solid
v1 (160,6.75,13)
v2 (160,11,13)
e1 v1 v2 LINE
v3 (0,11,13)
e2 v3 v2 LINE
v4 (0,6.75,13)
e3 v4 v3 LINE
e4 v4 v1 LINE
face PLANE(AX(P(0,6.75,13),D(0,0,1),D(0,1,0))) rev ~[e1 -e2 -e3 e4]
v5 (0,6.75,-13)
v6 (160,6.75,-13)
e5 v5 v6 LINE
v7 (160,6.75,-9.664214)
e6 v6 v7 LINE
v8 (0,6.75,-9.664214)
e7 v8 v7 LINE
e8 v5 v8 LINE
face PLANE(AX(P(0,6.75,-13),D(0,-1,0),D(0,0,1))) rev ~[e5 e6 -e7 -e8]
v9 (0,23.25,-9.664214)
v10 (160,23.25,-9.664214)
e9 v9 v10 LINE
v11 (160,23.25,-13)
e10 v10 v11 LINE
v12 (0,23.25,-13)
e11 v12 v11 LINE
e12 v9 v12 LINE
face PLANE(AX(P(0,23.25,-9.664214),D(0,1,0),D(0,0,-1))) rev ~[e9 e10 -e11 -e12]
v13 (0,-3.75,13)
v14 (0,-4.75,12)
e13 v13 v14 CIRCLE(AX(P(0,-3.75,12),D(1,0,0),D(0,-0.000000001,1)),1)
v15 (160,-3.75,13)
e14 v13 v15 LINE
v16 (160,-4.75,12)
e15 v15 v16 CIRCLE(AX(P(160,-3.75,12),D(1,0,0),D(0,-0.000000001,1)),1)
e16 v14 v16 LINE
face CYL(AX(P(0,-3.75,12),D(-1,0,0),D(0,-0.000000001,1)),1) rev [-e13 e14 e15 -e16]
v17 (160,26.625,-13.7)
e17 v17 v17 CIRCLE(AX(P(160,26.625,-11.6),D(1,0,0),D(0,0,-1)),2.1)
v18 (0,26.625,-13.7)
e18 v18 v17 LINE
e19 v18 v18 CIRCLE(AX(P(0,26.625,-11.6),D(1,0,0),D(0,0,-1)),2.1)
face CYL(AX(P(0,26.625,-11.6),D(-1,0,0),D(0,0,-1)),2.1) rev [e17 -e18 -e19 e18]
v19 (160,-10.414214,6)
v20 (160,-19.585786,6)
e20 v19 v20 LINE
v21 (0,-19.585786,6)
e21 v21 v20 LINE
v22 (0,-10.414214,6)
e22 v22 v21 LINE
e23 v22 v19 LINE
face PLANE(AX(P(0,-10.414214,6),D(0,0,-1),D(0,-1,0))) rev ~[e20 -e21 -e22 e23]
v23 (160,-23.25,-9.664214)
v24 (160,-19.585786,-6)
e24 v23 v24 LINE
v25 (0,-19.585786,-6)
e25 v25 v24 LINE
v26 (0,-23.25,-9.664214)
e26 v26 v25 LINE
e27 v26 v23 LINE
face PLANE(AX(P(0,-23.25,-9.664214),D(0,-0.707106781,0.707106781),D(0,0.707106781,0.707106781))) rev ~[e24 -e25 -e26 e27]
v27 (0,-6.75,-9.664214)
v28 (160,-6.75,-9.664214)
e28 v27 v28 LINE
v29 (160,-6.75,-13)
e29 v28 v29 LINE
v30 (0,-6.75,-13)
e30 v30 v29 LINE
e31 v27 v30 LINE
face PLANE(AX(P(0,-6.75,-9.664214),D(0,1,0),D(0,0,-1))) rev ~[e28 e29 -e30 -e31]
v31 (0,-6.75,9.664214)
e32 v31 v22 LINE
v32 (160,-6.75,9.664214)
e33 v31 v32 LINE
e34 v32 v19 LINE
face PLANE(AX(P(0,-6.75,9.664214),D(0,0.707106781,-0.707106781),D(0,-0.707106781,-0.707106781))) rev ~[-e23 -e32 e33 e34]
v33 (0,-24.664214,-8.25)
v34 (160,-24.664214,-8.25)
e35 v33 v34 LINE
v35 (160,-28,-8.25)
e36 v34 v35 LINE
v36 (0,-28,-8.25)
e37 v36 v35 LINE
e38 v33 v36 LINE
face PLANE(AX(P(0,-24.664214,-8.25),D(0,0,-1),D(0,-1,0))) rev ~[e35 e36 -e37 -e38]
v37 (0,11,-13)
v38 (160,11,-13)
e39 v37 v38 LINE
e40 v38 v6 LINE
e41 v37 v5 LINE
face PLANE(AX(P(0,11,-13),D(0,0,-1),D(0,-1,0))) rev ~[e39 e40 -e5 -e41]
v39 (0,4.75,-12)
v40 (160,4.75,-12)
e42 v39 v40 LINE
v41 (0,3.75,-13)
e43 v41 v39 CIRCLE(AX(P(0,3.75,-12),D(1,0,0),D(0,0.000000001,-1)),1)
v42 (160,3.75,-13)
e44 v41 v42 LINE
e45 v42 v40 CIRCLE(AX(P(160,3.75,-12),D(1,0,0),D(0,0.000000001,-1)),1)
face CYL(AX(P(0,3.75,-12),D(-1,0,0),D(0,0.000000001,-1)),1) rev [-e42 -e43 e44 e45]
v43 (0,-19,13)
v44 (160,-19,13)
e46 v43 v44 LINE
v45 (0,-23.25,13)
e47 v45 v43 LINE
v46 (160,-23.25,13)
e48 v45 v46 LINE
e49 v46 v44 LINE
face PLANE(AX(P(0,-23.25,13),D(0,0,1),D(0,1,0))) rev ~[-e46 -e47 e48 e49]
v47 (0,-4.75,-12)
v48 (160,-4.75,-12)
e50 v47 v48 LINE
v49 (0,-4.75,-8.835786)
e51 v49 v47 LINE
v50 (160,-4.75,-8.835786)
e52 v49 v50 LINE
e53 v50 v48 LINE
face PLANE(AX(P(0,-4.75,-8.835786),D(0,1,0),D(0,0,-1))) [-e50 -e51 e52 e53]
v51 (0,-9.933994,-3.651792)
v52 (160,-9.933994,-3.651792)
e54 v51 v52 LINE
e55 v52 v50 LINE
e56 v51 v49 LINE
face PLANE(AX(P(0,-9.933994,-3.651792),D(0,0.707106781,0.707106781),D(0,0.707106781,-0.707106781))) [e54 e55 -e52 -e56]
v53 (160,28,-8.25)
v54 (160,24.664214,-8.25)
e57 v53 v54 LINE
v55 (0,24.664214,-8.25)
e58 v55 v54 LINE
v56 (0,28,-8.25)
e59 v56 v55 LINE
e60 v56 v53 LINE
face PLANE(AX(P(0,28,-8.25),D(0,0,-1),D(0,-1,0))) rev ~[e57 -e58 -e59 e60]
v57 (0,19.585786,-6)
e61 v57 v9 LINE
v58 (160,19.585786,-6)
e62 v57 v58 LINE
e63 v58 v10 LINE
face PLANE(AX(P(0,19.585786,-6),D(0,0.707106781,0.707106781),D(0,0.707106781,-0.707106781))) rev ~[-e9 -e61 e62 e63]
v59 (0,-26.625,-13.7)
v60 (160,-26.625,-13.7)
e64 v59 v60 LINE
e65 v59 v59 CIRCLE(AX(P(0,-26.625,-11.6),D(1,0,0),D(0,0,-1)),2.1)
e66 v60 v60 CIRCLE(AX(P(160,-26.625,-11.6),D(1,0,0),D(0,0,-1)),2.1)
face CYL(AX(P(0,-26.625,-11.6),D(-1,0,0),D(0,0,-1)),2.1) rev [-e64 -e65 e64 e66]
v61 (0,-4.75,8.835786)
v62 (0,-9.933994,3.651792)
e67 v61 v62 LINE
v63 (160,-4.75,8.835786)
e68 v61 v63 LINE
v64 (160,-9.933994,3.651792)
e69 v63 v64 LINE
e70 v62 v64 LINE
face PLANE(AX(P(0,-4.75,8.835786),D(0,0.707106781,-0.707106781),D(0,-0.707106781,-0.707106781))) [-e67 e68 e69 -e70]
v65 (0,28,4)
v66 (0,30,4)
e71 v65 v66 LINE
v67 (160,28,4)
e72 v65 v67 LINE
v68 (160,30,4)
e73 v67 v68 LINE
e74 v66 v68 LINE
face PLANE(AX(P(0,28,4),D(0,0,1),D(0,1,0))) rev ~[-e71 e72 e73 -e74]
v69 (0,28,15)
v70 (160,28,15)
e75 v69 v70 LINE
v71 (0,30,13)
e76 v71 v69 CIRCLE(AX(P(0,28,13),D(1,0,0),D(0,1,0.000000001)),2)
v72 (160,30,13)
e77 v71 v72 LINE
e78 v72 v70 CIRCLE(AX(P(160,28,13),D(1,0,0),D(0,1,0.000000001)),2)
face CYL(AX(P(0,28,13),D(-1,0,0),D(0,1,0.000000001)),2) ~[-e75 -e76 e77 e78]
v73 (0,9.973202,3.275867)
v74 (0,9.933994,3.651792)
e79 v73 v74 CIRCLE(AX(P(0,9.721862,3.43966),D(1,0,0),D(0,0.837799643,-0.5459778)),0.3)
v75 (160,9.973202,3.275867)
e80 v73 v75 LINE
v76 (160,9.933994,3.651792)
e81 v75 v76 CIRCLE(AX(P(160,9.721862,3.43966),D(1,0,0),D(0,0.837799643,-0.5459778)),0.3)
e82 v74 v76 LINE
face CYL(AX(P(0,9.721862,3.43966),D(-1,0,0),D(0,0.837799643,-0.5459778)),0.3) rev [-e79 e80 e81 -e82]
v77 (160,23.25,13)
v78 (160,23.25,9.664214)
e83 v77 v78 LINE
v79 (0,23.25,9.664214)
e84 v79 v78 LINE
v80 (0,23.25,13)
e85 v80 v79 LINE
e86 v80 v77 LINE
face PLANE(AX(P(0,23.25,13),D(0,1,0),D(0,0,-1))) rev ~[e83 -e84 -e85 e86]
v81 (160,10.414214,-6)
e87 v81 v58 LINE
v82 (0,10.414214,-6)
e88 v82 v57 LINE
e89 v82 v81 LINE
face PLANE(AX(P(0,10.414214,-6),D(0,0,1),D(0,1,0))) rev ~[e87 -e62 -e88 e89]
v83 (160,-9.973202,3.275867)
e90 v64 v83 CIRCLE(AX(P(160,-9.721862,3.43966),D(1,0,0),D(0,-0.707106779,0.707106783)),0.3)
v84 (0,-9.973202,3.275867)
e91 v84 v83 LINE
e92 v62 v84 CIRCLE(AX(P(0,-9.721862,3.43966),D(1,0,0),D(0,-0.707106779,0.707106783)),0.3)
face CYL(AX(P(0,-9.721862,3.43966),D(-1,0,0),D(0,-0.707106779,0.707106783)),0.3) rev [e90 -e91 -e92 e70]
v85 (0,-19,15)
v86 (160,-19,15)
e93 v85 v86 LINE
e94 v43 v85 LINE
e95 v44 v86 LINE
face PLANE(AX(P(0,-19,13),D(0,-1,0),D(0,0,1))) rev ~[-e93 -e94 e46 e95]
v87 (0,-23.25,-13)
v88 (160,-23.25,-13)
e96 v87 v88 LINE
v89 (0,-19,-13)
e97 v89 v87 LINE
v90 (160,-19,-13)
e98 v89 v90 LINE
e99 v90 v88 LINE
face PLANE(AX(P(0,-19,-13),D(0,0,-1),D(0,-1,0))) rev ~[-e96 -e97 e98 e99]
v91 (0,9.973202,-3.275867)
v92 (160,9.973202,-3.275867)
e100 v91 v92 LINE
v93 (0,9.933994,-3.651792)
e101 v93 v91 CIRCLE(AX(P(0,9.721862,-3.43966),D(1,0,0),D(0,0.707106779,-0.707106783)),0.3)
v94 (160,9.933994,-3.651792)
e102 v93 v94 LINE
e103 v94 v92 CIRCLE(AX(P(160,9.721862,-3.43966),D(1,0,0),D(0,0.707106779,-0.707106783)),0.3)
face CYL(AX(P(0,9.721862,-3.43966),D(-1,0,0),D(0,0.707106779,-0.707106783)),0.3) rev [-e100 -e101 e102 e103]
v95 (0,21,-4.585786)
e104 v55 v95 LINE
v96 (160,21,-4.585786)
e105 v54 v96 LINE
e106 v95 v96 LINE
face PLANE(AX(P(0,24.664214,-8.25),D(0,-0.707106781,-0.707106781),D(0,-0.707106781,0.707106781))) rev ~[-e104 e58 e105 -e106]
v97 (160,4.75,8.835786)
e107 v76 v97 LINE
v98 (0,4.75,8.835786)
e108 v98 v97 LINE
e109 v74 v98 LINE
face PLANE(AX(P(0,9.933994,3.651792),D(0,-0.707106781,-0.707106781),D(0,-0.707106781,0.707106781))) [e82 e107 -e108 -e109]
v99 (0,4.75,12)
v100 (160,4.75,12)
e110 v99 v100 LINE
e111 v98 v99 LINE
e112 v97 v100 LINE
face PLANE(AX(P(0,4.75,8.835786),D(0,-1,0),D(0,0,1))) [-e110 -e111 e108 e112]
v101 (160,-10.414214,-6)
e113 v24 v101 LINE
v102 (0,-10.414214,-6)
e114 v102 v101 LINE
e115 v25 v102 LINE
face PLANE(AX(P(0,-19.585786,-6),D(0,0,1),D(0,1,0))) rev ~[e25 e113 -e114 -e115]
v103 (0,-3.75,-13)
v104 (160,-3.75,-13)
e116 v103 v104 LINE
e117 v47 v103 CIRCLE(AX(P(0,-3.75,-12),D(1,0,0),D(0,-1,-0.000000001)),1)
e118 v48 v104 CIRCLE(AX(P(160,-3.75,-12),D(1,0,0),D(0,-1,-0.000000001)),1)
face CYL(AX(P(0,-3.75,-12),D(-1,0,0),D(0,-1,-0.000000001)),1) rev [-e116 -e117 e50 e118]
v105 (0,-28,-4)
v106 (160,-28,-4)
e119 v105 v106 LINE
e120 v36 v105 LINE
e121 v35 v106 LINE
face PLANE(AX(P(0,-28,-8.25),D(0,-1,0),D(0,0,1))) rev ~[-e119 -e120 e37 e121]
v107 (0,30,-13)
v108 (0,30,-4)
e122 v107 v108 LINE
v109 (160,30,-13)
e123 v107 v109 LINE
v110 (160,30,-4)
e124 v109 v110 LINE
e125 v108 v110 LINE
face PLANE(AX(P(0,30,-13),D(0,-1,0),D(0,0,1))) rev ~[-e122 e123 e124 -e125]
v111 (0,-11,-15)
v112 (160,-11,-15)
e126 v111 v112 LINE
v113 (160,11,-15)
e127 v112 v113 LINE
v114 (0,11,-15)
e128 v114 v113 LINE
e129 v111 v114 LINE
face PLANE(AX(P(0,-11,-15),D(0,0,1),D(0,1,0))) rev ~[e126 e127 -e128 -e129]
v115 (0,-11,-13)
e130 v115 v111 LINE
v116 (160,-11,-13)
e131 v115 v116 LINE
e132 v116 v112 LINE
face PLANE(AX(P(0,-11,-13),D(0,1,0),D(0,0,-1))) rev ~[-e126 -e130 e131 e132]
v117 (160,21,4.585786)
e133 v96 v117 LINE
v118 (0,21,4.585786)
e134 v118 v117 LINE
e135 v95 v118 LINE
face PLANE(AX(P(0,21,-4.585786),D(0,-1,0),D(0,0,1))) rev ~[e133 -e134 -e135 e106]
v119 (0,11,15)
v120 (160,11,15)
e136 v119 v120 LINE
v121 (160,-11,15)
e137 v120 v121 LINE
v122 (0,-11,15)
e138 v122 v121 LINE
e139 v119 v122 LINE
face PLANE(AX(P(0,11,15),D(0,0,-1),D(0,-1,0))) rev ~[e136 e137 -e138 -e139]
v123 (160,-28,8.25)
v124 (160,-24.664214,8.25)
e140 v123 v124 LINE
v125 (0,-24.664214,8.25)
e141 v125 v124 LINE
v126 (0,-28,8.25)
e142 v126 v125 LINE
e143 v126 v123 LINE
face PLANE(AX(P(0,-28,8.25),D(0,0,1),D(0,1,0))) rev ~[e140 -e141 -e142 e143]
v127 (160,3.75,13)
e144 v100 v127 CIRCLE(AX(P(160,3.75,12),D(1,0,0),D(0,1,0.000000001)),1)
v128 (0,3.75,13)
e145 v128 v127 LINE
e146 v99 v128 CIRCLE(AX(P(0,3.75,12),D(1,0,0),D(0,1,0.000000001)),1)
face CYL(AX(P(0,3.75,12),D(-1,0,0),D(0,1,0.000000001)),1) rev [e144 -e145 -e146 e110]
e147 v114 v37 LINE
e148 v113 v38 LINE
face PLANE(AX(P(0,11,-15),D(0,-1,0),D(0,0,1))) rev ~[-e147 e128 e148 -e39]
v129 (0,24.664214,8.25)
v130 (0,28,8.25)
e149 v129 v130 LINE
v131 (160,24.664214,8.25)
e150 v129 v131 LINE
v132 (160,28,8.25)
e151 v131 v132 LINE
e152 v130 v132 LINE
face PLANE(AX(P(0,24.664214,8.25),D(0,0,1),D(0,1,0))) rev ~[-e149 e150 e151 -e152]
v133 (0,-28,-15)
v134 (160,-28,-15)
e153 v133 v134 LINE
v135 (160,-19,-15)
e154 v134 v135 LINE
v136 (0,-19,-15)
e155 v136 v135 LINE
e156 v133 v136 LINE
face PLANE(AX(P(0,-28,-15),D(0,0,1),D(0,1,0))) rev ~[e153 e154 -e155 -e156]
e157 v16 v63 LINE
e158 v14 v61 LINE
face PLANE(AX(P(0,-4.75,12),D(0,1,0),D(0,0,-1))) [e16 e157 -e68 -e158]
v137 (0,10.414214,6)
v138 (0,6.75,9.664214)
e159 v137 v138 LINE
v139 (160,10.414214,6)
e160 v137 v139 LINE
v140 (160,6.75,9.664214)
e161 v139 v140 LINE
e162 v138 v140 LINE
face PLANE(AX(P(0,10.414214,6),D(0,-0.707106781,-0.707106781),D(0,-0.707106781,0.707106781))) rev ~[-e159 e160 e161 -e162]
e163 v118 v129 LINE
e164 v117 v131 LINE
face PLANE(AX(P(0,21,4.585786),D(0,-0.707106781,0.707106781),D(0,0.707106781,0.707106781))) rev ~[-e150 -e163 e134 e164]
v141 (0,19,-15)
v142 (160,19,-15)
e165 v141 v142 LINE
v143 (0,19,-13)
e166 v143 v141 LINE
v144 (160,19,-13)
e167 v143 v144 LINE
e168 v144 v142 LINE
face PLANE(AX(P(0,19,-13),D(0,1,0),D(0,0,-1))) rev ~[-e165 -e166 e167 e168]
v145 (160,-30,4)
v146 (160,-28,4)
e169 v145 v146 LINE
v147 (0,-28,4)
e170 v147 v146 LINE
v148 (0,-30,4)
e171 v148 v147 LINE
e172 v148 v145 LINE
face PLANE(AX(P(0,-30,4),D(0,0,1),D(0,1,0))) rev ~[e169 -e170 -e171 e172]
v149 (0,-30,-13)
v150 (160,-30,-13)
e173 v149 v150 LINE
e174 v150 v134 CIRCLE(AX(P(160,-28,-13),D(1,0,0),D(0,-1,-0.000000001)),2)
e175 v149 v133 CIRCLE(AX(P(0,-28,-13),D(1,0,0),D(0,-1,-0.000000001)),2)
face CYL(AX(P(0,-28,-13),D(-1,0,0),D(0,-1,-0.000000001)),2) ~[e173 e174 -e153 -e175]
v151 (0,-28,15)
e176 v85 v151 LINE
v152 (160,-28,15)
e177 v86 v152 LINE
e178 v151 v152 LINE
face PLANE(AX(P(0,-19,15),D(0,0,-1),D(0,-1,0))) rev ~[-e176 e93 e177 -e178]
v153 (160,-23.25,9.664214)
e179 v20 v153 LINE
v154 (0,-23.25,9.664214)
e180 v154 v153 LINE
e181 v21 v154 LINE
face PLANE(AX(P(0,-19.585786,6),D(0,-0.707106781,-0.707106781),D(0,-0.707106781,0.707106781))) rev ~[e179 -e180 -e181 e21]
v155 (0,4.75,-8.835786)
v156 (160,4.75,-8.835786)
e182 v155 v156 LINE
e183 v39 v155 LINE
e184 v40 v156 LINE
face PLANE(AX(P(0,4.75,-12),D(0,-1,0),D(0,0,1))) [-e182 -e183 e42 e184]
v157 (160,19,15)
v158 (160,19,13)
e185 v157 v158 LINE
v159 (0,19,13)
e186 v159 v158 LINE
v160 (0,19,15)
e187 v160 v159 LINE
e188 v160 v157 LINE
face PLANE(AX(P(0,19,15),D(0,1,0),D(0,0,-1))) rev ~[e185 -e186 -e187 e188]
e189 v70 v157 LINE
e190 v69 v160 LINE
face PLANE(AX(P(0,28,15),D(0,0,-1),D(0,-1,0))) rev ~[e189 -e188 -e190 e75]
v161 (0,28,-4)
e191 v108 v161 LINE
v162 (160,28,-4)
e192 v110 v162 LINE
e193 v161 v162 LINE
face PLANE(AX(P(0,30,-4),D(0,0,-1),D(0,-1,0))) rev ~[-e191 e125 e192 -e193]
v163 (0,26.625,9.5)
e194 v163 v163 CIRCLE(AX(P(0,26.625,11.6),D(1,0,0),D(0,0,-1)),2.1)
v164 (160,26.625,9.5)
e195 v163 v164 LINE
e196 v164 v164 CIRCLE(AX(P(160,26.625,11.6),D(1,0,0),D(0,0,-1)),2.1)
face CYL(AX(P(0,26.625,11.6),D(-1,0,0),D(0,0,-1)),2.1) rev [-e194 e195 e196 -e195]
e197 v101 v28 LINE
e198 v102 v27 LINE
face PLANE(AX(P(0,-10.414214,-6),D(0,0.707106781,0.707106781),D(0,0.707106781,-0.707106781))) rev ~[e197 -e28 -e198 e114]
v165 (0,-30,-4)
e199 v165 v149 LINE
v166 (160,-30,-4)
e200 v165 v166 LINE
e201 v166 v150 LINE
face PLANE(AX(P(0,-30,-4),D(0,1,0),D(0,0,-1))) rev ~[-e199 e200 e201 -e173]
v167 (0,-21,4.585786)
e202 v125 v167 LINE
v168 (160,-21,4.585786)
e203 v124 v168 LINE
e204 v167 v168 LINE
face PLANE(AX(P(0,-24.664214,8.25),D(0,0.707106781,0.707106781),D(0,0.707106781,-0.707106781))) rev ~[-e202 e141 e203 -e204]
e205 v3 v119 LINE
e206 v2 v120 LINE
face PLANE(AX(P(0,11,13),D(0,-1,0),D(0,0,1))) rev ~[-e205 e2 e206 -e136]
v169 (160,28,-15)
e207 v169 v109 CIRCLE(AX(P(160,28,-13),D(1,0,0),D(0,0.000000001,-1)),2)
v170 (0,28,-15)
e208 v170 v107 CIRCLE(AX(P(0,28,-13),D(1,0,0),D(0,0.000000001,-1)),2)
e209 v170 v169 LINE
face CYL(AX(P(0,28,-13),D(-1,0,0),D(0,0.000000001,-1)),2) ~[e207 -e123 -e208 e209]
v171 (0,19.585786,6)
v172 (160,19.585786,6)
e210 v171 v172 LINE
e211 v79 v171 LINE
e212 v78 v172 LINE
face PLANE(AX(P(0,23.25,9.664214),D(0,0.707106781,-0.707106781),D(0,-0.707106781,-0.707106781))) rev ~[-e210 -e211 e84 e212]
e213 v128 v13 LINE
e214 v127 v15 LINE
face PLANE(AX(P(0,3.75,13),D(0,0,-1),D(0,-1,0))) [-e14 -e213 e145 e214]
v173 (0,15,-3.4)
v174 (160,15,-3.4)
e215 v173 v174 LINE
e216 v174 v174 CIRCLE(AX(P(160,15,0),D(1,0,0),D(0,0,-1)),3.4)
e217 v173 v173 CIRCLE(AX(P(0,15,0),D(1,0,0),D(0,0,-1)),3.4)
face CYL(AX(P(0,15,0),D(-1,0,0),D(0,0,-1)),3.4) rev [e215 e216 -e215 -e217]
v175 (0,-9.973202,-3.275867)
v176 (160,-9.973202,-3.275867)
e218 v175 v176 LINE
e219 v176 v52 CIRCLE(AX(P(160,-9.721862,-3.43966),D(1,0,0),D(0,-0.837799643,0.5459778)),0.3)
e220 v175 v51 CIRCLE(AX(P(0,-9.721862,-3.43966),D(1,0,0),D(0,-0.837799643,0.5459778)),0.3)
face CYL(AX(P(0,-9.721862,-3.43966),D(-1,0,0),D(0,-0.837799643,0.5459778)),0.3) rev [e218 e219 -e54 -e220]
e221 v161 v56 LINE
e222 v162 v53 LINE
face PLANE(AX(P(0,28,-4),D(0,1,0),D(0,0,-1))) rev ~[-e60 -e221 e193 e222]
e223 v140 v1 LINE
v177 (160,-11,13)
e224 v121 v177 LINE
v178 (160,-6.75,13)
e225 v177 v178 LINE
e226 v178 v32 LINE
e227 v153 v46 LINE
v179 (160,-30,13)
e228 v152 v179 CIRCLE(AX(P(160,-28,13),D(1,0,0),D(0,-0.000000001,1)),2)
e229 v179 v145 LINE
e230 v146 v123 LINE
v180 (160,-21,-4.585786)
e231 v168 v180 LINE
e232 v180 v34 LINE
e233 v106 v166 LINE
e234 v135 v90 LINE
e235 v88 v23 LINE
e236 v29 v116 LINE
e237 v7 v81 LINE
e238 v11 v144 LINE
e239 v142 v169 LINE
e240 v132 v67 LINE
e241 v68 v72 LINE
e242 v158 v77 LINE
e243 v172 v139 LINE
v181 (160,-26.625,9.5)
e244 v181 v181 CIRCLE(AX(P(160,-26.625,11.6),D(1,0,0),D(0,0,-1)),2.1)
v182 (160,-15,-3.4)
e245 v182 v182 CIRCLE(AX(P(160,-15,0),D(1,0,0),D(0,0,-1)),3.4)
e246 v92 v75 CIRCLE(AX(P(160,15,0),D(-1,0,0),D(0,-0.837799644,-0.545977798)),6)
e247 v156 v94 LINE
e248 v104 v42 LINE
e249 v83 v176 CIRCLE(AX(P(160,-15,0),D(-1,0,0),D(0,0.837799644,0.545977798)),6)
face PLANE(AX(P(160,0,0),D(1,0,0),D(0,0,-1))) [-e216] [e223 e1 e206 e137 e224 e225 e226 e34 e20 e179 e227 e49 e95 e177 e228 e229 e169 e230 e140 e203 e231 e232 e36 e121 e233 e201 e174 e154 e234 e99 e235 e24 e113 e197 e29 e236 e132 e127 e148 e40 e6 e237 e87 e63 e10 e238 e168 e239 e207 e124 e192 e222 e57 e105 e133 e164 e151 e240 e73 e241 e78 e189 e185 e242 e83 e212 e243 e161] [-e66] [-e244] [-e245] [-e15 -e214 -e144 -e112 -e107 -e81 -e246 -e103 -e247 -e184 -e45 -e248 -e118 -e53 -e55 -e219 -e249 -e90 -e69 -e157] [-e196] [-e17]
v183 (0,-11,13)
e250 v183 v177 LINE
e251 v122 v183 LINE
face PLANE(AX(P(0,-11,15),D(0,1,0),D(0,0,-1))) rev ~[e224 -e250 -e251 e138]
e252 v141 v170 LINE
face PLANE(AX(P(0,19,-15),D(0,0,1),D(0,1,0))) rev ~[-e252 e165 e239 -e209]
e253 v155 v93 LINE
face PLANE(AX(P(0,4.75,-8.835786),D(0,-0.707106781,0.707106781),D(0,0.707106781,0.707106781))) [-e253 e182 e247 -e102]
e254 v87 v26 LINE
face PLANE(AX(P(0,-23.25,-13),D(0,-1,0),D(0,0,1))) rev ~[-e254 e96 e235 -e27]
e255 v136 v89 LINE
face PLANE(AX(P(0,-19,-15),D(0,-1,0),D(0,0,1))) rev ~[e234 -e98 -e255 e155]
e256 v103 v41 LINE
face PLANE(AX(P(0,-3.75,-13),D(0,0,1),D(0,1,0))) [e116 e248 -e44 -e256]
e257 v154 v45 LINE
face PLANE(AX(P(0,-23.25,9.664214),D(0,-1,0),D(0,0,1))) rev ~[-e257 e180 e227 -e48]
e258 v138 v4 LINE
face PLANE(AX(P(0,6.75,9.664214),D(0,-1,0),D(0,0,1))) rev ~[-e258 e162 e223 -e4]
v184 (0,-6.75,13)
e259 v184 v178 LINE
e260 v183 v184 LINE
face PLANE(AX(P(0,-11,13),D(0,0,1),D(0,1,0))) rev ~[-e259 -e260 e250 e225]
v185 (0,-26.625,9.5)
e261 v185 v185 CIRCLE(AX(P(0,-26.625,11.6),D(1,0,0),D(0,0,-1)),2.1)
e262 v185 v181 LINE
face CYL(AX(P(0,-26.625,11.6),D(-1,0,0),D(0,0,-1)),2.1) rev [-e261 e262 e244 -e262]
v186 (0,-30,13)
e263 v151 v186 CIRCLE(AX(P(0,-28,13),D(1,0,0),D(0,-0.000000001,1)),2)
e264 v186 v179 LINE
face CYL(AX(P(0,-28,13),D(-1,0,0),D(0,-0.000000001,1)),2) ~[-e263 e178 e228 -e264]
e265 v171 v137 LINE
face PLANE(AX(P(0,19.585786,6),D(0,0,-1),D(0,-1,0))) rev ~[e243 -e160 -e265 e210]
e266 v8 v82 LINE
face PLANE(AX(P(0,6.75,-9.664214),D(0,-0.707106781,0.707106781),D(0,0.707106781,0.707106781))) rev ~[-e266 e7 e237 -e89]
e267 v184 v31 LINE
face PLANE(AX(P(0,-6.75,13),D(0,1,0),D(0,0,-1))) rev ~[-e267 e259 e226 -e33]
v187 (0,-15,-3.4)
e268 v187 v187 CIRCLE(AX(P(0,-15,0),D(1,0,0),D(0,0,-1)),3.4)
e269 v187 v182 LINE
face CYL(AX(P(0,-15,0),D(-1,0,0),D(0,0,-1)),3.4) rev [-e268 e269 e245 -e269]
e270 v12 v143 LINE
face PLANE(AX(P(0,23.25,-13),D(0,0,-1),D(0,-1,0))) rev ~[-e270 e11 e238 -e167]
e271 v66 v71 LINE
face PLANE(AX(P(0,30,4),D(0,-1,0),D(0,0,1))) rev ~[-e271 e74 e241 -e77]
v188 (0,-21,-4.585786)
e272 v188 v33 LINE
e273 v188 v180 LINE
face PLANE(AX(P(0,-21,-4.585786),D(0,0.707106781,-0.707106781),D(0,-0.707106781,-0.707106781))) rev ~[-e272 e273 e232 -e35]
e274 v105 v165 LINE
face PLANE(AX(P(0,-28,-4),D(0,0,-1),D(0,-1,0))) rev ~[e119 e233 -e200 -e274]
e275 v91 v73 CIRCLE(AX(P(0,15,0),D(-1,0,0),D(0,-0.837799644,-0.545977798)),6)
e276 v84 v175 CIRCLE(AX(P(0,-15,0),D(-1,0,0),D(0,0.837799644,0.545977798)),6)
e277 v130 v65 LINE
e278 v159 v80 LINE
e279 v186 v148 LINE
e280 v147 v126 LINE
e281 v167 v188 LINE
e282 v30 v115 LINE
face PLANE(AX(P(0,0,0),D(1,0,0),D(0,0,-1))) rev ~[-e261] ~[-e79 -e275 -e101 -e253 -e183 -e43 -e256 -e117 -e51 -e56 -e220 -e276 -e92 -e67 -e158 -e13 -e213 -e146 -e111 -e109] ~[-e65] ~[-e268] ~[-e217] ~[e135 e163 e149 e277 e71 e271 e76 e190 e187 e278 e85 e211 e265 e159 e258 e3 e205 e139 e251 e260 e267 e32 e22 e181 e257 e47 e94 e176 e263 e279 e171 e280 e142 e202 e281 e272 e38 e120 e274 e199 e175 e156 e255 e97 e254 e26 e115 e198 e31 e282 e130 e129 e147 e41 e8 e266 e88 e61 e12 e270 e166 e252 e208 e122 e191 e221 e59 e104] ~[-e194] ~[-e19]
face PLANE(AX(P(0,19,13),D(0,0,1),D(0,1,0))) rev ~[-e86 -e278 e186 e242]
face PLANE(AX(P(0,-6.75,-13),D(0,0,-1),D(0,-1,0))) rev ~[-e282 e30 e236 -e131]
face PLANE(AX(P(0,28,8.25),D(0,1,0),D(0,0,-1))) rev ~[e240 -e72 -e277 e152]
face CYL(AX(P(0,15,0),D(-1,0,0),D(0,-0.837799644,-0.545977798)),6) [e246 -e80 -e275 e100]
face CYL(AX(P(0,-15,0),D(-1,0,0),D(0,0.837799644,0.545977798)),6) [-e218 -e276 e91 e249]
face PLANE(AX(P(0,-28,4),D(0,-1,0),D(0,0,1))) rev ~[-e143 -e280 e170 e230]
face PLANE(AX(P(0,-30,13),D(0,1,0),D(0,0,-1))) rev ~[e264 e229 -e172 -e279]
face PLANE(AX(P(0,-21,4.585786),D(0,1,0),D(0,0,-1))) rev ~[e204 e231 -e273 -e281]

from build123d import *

# Parameters (mm, degrees)
SKETCH1_R           = 2.1
SKETCH1_R_2         = 3.4
BOSS_EXTRUDE1_DEPTH = 160


with BuildPart() as part:
    # Sketch1 → Boss-Extrude1 (new body)
    with BuildSketch(Plane(origin=(0, 0, 0), x_dir=(0, 0, -1), z_dir=(1, 0, 0))):
        with BuildLine():
            Line((-15, 28), (-15, 19))
            Line((-15, 19), (-13, 19))
            Line((-13, 19), (-13, 23.25))
            Line((-13, 23.25), (-9.664213562, 23.25))
            Line((-9.664213562, 23.25), (-6, 19.585786438))
            Line((-6, 19.585786438), (-6, 10.414213562))
            Line((-6, 10.414213562), (-9.664213562, 6.75))
            Line((-9.664213562, 6.75), (-13, 6.75))
            Line((-13, 6.75), (-13, 11))
            Line((-13, 11), (-15, 11))
            Line((-15, 11), (-15, -11))
            Line((-15, -11), (-13, -11))
            Line((-13, -11), (-13, -6.75))
            Line((-13, -6.75), (-9.664213562, -6.75))
            Line((-9.664213562, -6.75), (-6, -10.414213562))
            Line((-6, -10.414213562), (-6, -19.585786438))
            Line((-6, -19.585786438), (-9.664213562, -23.25))
            Line((-9.664213562, -23.25), (-13, -23.25))
            Line((-13, -23.25), (-13, -19))
            Line((-13, -19), (-15, -19))
            Line((-15, -19), (-15, -28))
            ThreePointArc((-15, -28), (-14.414213562, -29.414213562), (-13, -30))
            Line((-13, -30), (-4, -30))
            Line((-4, -30), (-4, -28))
            Line((-4, -28), (-8.25, -28))
            Line((-8.25, -28), (-8.25, -24.664213562))
            Line((-8.25, -24.664213562), (-4.585786438, -21))
            Line((-4.585786438, -21), (4.585786438, -21))
            Line((4.585786438, -21), (8.25, -24.664213562))
            Line((8.25, -24.664213562), (8.25, -28))
            Line((8.25, -28), (4, -28))
            Line((4, -28), (4, -30))
            Line((4, -30), (13, -30))
            ThreePointArc((13, -30), (14.414213562, -29.414213562), (15, -28))
            Line((15, -28), (15, -19))
            Line((15, -19), (13, -19))
            Line((13, -19), (13, -23.25))
            Line((13, -23.25), (9.664213562, -23.25))
            Line((9.664213562, -23.25), (6, -19.585786438))
            Line((6, -19.585786438), (6, -10.414213562))
            Line((6, -10.414213562), (9.664213562, -6.75))
            Line((9.664213562, -6.75), (13, -6.75))
            Line((13, -6.75), (13, -11))
            Line((13, -11), (15, -11))
            Line((15, -11), (15, 11))
            Line((15, 11), (13, 11))
            Line((13, 11), (13, 6.75))
            Line((13, 6.75), (9.664213562, 6.75))
            Line((9.664213562, 6.75), (6, 10.414213562))
            Line((6, 10.414213562), (6, 19.585786438))
            Line((6, 19.585786438), (9.664213562, 23.25))
            Line((9.664213562, 23.25), (13, 23.25))
            Line((13, 23.25), (13, 19))
            Line((13, 19), (15, 19))
            Line((15, 19), (15, 28))
            ThreePointArc((15, 28), (14.414213562, 29.414213562), (13, 30))
            Line((13, 30), (4, 30))
            Line((4, 30), (4, 28))
            Line((4, 28), (8.25, 28))
            Line((8.25, 28), (8.25, 24.664213562))
            Line((8.25, 24.664213562), (4.585786438, 21))
            Line((4.585786438, 21), (-4.585786438, 21))
            Line((-4.585786438, 21), (-8.25, 24.664213562))
            Line((-8.25, 24.664213562), (-8.25, 28))
            Line((-8.25, 28), (-4, 28))
            Line((-4, 28), (-4, 30))
            Line((-4, 30), (-13, 30))
            ThreePointArc((-13, 30), (-14.414213562, 29.414213562), (-15, 28))
        make_face()
        with Locations((-11.6, 26.625)):
            Circle(SKETCH1_R, mode=Mode.SUBTRACT)
        with Locations((0, 15)):
            Circle(SKETCH1_R_2, mode=Mode.SUBTRACT)
        with Locations((11.6, 26.625)):
            Circle(SKETCH1_R, mode=Mode.SUBTRACT)
        with Locations((0, -15)):
            Circle(SKETCH1_R_2, mode=Mode.SUBTRACT)
        with Locations((-11.6, -26.625)):
            Circle(SKETCH1_R, mode=Mode.SUBTRACT)
        with Locations((11.6, -26.625)):
            Circle(SKETCH1_R, mode=Mode.SUBTRACT)
        with BuildLine():
            Line((-8.835786438, 4.75), (-12, 4.75))
            ThreePointArc((-12, 4.75), (-12.707106781, 4.457106781), (-13, 3.75))
            Line((-13, 3.75), (-13, -3.75))
            ThreePointArc((-13, -3.75), (-12.707106781, -4.457106781), (-12, -4.75))
            Line((-12, -4.75), (-8.835786438, -4.75))
            Line((-8.835786438, -4.75), (-3.651792162, -9.933994275))
            ThreePointArc((-3.651792162, -9.933994275), (-3.470780401, -10.020243756), (-3.275866789, -9.973202134))
            ThreePointArc((-3.275866789, -9.973202134), (0, -9), (3.275866789, -9.973202134))
            ThreePointArc((3.275866789, -9.973202134), (3.470780401, -10.020243756), (3.651792162, -9.933994275))
            Line((3.651792162, -9.933994275), (8.835786438, -4.75))
            Line((8.835786438, -4.75), (12, -4.75))
            ThreePointArc((12, -4.75), (12.707106781, -4.457106781), (13, -3.75))
            Line((13, -3.75), (13, 3.75))
            ThreePointArc((13, 3.75), (12.707106781, 4.457106781), (12, 4.75))
            Line((12, 4.75), (8.835786438, 4.75))
            Line((8.835786438, 4.75), (3.651792162, 9.933994275))
            ThreePointArc((3.651792162, 9.933994275), (3.470780401, 10.020243756), (3.275866789, 9.973202134))
            ThreePointArc((3.275866789, 9.973202134), (0, 9), (-3.275866789, 9.973202134))
            ThreePointArc((-3.275866789, 9.973202134), (-3.470780401, 10.020243756), (-3.651792162, 9.933994275))
            Line((-3.651792162, 9.933994275), (-8.835786438, 4.75))
        make_face(mode=Mode.SUBTRACT)
    extrude(amount=BOSS_EXTRUDE1_DEPTH)


solid = part.part
